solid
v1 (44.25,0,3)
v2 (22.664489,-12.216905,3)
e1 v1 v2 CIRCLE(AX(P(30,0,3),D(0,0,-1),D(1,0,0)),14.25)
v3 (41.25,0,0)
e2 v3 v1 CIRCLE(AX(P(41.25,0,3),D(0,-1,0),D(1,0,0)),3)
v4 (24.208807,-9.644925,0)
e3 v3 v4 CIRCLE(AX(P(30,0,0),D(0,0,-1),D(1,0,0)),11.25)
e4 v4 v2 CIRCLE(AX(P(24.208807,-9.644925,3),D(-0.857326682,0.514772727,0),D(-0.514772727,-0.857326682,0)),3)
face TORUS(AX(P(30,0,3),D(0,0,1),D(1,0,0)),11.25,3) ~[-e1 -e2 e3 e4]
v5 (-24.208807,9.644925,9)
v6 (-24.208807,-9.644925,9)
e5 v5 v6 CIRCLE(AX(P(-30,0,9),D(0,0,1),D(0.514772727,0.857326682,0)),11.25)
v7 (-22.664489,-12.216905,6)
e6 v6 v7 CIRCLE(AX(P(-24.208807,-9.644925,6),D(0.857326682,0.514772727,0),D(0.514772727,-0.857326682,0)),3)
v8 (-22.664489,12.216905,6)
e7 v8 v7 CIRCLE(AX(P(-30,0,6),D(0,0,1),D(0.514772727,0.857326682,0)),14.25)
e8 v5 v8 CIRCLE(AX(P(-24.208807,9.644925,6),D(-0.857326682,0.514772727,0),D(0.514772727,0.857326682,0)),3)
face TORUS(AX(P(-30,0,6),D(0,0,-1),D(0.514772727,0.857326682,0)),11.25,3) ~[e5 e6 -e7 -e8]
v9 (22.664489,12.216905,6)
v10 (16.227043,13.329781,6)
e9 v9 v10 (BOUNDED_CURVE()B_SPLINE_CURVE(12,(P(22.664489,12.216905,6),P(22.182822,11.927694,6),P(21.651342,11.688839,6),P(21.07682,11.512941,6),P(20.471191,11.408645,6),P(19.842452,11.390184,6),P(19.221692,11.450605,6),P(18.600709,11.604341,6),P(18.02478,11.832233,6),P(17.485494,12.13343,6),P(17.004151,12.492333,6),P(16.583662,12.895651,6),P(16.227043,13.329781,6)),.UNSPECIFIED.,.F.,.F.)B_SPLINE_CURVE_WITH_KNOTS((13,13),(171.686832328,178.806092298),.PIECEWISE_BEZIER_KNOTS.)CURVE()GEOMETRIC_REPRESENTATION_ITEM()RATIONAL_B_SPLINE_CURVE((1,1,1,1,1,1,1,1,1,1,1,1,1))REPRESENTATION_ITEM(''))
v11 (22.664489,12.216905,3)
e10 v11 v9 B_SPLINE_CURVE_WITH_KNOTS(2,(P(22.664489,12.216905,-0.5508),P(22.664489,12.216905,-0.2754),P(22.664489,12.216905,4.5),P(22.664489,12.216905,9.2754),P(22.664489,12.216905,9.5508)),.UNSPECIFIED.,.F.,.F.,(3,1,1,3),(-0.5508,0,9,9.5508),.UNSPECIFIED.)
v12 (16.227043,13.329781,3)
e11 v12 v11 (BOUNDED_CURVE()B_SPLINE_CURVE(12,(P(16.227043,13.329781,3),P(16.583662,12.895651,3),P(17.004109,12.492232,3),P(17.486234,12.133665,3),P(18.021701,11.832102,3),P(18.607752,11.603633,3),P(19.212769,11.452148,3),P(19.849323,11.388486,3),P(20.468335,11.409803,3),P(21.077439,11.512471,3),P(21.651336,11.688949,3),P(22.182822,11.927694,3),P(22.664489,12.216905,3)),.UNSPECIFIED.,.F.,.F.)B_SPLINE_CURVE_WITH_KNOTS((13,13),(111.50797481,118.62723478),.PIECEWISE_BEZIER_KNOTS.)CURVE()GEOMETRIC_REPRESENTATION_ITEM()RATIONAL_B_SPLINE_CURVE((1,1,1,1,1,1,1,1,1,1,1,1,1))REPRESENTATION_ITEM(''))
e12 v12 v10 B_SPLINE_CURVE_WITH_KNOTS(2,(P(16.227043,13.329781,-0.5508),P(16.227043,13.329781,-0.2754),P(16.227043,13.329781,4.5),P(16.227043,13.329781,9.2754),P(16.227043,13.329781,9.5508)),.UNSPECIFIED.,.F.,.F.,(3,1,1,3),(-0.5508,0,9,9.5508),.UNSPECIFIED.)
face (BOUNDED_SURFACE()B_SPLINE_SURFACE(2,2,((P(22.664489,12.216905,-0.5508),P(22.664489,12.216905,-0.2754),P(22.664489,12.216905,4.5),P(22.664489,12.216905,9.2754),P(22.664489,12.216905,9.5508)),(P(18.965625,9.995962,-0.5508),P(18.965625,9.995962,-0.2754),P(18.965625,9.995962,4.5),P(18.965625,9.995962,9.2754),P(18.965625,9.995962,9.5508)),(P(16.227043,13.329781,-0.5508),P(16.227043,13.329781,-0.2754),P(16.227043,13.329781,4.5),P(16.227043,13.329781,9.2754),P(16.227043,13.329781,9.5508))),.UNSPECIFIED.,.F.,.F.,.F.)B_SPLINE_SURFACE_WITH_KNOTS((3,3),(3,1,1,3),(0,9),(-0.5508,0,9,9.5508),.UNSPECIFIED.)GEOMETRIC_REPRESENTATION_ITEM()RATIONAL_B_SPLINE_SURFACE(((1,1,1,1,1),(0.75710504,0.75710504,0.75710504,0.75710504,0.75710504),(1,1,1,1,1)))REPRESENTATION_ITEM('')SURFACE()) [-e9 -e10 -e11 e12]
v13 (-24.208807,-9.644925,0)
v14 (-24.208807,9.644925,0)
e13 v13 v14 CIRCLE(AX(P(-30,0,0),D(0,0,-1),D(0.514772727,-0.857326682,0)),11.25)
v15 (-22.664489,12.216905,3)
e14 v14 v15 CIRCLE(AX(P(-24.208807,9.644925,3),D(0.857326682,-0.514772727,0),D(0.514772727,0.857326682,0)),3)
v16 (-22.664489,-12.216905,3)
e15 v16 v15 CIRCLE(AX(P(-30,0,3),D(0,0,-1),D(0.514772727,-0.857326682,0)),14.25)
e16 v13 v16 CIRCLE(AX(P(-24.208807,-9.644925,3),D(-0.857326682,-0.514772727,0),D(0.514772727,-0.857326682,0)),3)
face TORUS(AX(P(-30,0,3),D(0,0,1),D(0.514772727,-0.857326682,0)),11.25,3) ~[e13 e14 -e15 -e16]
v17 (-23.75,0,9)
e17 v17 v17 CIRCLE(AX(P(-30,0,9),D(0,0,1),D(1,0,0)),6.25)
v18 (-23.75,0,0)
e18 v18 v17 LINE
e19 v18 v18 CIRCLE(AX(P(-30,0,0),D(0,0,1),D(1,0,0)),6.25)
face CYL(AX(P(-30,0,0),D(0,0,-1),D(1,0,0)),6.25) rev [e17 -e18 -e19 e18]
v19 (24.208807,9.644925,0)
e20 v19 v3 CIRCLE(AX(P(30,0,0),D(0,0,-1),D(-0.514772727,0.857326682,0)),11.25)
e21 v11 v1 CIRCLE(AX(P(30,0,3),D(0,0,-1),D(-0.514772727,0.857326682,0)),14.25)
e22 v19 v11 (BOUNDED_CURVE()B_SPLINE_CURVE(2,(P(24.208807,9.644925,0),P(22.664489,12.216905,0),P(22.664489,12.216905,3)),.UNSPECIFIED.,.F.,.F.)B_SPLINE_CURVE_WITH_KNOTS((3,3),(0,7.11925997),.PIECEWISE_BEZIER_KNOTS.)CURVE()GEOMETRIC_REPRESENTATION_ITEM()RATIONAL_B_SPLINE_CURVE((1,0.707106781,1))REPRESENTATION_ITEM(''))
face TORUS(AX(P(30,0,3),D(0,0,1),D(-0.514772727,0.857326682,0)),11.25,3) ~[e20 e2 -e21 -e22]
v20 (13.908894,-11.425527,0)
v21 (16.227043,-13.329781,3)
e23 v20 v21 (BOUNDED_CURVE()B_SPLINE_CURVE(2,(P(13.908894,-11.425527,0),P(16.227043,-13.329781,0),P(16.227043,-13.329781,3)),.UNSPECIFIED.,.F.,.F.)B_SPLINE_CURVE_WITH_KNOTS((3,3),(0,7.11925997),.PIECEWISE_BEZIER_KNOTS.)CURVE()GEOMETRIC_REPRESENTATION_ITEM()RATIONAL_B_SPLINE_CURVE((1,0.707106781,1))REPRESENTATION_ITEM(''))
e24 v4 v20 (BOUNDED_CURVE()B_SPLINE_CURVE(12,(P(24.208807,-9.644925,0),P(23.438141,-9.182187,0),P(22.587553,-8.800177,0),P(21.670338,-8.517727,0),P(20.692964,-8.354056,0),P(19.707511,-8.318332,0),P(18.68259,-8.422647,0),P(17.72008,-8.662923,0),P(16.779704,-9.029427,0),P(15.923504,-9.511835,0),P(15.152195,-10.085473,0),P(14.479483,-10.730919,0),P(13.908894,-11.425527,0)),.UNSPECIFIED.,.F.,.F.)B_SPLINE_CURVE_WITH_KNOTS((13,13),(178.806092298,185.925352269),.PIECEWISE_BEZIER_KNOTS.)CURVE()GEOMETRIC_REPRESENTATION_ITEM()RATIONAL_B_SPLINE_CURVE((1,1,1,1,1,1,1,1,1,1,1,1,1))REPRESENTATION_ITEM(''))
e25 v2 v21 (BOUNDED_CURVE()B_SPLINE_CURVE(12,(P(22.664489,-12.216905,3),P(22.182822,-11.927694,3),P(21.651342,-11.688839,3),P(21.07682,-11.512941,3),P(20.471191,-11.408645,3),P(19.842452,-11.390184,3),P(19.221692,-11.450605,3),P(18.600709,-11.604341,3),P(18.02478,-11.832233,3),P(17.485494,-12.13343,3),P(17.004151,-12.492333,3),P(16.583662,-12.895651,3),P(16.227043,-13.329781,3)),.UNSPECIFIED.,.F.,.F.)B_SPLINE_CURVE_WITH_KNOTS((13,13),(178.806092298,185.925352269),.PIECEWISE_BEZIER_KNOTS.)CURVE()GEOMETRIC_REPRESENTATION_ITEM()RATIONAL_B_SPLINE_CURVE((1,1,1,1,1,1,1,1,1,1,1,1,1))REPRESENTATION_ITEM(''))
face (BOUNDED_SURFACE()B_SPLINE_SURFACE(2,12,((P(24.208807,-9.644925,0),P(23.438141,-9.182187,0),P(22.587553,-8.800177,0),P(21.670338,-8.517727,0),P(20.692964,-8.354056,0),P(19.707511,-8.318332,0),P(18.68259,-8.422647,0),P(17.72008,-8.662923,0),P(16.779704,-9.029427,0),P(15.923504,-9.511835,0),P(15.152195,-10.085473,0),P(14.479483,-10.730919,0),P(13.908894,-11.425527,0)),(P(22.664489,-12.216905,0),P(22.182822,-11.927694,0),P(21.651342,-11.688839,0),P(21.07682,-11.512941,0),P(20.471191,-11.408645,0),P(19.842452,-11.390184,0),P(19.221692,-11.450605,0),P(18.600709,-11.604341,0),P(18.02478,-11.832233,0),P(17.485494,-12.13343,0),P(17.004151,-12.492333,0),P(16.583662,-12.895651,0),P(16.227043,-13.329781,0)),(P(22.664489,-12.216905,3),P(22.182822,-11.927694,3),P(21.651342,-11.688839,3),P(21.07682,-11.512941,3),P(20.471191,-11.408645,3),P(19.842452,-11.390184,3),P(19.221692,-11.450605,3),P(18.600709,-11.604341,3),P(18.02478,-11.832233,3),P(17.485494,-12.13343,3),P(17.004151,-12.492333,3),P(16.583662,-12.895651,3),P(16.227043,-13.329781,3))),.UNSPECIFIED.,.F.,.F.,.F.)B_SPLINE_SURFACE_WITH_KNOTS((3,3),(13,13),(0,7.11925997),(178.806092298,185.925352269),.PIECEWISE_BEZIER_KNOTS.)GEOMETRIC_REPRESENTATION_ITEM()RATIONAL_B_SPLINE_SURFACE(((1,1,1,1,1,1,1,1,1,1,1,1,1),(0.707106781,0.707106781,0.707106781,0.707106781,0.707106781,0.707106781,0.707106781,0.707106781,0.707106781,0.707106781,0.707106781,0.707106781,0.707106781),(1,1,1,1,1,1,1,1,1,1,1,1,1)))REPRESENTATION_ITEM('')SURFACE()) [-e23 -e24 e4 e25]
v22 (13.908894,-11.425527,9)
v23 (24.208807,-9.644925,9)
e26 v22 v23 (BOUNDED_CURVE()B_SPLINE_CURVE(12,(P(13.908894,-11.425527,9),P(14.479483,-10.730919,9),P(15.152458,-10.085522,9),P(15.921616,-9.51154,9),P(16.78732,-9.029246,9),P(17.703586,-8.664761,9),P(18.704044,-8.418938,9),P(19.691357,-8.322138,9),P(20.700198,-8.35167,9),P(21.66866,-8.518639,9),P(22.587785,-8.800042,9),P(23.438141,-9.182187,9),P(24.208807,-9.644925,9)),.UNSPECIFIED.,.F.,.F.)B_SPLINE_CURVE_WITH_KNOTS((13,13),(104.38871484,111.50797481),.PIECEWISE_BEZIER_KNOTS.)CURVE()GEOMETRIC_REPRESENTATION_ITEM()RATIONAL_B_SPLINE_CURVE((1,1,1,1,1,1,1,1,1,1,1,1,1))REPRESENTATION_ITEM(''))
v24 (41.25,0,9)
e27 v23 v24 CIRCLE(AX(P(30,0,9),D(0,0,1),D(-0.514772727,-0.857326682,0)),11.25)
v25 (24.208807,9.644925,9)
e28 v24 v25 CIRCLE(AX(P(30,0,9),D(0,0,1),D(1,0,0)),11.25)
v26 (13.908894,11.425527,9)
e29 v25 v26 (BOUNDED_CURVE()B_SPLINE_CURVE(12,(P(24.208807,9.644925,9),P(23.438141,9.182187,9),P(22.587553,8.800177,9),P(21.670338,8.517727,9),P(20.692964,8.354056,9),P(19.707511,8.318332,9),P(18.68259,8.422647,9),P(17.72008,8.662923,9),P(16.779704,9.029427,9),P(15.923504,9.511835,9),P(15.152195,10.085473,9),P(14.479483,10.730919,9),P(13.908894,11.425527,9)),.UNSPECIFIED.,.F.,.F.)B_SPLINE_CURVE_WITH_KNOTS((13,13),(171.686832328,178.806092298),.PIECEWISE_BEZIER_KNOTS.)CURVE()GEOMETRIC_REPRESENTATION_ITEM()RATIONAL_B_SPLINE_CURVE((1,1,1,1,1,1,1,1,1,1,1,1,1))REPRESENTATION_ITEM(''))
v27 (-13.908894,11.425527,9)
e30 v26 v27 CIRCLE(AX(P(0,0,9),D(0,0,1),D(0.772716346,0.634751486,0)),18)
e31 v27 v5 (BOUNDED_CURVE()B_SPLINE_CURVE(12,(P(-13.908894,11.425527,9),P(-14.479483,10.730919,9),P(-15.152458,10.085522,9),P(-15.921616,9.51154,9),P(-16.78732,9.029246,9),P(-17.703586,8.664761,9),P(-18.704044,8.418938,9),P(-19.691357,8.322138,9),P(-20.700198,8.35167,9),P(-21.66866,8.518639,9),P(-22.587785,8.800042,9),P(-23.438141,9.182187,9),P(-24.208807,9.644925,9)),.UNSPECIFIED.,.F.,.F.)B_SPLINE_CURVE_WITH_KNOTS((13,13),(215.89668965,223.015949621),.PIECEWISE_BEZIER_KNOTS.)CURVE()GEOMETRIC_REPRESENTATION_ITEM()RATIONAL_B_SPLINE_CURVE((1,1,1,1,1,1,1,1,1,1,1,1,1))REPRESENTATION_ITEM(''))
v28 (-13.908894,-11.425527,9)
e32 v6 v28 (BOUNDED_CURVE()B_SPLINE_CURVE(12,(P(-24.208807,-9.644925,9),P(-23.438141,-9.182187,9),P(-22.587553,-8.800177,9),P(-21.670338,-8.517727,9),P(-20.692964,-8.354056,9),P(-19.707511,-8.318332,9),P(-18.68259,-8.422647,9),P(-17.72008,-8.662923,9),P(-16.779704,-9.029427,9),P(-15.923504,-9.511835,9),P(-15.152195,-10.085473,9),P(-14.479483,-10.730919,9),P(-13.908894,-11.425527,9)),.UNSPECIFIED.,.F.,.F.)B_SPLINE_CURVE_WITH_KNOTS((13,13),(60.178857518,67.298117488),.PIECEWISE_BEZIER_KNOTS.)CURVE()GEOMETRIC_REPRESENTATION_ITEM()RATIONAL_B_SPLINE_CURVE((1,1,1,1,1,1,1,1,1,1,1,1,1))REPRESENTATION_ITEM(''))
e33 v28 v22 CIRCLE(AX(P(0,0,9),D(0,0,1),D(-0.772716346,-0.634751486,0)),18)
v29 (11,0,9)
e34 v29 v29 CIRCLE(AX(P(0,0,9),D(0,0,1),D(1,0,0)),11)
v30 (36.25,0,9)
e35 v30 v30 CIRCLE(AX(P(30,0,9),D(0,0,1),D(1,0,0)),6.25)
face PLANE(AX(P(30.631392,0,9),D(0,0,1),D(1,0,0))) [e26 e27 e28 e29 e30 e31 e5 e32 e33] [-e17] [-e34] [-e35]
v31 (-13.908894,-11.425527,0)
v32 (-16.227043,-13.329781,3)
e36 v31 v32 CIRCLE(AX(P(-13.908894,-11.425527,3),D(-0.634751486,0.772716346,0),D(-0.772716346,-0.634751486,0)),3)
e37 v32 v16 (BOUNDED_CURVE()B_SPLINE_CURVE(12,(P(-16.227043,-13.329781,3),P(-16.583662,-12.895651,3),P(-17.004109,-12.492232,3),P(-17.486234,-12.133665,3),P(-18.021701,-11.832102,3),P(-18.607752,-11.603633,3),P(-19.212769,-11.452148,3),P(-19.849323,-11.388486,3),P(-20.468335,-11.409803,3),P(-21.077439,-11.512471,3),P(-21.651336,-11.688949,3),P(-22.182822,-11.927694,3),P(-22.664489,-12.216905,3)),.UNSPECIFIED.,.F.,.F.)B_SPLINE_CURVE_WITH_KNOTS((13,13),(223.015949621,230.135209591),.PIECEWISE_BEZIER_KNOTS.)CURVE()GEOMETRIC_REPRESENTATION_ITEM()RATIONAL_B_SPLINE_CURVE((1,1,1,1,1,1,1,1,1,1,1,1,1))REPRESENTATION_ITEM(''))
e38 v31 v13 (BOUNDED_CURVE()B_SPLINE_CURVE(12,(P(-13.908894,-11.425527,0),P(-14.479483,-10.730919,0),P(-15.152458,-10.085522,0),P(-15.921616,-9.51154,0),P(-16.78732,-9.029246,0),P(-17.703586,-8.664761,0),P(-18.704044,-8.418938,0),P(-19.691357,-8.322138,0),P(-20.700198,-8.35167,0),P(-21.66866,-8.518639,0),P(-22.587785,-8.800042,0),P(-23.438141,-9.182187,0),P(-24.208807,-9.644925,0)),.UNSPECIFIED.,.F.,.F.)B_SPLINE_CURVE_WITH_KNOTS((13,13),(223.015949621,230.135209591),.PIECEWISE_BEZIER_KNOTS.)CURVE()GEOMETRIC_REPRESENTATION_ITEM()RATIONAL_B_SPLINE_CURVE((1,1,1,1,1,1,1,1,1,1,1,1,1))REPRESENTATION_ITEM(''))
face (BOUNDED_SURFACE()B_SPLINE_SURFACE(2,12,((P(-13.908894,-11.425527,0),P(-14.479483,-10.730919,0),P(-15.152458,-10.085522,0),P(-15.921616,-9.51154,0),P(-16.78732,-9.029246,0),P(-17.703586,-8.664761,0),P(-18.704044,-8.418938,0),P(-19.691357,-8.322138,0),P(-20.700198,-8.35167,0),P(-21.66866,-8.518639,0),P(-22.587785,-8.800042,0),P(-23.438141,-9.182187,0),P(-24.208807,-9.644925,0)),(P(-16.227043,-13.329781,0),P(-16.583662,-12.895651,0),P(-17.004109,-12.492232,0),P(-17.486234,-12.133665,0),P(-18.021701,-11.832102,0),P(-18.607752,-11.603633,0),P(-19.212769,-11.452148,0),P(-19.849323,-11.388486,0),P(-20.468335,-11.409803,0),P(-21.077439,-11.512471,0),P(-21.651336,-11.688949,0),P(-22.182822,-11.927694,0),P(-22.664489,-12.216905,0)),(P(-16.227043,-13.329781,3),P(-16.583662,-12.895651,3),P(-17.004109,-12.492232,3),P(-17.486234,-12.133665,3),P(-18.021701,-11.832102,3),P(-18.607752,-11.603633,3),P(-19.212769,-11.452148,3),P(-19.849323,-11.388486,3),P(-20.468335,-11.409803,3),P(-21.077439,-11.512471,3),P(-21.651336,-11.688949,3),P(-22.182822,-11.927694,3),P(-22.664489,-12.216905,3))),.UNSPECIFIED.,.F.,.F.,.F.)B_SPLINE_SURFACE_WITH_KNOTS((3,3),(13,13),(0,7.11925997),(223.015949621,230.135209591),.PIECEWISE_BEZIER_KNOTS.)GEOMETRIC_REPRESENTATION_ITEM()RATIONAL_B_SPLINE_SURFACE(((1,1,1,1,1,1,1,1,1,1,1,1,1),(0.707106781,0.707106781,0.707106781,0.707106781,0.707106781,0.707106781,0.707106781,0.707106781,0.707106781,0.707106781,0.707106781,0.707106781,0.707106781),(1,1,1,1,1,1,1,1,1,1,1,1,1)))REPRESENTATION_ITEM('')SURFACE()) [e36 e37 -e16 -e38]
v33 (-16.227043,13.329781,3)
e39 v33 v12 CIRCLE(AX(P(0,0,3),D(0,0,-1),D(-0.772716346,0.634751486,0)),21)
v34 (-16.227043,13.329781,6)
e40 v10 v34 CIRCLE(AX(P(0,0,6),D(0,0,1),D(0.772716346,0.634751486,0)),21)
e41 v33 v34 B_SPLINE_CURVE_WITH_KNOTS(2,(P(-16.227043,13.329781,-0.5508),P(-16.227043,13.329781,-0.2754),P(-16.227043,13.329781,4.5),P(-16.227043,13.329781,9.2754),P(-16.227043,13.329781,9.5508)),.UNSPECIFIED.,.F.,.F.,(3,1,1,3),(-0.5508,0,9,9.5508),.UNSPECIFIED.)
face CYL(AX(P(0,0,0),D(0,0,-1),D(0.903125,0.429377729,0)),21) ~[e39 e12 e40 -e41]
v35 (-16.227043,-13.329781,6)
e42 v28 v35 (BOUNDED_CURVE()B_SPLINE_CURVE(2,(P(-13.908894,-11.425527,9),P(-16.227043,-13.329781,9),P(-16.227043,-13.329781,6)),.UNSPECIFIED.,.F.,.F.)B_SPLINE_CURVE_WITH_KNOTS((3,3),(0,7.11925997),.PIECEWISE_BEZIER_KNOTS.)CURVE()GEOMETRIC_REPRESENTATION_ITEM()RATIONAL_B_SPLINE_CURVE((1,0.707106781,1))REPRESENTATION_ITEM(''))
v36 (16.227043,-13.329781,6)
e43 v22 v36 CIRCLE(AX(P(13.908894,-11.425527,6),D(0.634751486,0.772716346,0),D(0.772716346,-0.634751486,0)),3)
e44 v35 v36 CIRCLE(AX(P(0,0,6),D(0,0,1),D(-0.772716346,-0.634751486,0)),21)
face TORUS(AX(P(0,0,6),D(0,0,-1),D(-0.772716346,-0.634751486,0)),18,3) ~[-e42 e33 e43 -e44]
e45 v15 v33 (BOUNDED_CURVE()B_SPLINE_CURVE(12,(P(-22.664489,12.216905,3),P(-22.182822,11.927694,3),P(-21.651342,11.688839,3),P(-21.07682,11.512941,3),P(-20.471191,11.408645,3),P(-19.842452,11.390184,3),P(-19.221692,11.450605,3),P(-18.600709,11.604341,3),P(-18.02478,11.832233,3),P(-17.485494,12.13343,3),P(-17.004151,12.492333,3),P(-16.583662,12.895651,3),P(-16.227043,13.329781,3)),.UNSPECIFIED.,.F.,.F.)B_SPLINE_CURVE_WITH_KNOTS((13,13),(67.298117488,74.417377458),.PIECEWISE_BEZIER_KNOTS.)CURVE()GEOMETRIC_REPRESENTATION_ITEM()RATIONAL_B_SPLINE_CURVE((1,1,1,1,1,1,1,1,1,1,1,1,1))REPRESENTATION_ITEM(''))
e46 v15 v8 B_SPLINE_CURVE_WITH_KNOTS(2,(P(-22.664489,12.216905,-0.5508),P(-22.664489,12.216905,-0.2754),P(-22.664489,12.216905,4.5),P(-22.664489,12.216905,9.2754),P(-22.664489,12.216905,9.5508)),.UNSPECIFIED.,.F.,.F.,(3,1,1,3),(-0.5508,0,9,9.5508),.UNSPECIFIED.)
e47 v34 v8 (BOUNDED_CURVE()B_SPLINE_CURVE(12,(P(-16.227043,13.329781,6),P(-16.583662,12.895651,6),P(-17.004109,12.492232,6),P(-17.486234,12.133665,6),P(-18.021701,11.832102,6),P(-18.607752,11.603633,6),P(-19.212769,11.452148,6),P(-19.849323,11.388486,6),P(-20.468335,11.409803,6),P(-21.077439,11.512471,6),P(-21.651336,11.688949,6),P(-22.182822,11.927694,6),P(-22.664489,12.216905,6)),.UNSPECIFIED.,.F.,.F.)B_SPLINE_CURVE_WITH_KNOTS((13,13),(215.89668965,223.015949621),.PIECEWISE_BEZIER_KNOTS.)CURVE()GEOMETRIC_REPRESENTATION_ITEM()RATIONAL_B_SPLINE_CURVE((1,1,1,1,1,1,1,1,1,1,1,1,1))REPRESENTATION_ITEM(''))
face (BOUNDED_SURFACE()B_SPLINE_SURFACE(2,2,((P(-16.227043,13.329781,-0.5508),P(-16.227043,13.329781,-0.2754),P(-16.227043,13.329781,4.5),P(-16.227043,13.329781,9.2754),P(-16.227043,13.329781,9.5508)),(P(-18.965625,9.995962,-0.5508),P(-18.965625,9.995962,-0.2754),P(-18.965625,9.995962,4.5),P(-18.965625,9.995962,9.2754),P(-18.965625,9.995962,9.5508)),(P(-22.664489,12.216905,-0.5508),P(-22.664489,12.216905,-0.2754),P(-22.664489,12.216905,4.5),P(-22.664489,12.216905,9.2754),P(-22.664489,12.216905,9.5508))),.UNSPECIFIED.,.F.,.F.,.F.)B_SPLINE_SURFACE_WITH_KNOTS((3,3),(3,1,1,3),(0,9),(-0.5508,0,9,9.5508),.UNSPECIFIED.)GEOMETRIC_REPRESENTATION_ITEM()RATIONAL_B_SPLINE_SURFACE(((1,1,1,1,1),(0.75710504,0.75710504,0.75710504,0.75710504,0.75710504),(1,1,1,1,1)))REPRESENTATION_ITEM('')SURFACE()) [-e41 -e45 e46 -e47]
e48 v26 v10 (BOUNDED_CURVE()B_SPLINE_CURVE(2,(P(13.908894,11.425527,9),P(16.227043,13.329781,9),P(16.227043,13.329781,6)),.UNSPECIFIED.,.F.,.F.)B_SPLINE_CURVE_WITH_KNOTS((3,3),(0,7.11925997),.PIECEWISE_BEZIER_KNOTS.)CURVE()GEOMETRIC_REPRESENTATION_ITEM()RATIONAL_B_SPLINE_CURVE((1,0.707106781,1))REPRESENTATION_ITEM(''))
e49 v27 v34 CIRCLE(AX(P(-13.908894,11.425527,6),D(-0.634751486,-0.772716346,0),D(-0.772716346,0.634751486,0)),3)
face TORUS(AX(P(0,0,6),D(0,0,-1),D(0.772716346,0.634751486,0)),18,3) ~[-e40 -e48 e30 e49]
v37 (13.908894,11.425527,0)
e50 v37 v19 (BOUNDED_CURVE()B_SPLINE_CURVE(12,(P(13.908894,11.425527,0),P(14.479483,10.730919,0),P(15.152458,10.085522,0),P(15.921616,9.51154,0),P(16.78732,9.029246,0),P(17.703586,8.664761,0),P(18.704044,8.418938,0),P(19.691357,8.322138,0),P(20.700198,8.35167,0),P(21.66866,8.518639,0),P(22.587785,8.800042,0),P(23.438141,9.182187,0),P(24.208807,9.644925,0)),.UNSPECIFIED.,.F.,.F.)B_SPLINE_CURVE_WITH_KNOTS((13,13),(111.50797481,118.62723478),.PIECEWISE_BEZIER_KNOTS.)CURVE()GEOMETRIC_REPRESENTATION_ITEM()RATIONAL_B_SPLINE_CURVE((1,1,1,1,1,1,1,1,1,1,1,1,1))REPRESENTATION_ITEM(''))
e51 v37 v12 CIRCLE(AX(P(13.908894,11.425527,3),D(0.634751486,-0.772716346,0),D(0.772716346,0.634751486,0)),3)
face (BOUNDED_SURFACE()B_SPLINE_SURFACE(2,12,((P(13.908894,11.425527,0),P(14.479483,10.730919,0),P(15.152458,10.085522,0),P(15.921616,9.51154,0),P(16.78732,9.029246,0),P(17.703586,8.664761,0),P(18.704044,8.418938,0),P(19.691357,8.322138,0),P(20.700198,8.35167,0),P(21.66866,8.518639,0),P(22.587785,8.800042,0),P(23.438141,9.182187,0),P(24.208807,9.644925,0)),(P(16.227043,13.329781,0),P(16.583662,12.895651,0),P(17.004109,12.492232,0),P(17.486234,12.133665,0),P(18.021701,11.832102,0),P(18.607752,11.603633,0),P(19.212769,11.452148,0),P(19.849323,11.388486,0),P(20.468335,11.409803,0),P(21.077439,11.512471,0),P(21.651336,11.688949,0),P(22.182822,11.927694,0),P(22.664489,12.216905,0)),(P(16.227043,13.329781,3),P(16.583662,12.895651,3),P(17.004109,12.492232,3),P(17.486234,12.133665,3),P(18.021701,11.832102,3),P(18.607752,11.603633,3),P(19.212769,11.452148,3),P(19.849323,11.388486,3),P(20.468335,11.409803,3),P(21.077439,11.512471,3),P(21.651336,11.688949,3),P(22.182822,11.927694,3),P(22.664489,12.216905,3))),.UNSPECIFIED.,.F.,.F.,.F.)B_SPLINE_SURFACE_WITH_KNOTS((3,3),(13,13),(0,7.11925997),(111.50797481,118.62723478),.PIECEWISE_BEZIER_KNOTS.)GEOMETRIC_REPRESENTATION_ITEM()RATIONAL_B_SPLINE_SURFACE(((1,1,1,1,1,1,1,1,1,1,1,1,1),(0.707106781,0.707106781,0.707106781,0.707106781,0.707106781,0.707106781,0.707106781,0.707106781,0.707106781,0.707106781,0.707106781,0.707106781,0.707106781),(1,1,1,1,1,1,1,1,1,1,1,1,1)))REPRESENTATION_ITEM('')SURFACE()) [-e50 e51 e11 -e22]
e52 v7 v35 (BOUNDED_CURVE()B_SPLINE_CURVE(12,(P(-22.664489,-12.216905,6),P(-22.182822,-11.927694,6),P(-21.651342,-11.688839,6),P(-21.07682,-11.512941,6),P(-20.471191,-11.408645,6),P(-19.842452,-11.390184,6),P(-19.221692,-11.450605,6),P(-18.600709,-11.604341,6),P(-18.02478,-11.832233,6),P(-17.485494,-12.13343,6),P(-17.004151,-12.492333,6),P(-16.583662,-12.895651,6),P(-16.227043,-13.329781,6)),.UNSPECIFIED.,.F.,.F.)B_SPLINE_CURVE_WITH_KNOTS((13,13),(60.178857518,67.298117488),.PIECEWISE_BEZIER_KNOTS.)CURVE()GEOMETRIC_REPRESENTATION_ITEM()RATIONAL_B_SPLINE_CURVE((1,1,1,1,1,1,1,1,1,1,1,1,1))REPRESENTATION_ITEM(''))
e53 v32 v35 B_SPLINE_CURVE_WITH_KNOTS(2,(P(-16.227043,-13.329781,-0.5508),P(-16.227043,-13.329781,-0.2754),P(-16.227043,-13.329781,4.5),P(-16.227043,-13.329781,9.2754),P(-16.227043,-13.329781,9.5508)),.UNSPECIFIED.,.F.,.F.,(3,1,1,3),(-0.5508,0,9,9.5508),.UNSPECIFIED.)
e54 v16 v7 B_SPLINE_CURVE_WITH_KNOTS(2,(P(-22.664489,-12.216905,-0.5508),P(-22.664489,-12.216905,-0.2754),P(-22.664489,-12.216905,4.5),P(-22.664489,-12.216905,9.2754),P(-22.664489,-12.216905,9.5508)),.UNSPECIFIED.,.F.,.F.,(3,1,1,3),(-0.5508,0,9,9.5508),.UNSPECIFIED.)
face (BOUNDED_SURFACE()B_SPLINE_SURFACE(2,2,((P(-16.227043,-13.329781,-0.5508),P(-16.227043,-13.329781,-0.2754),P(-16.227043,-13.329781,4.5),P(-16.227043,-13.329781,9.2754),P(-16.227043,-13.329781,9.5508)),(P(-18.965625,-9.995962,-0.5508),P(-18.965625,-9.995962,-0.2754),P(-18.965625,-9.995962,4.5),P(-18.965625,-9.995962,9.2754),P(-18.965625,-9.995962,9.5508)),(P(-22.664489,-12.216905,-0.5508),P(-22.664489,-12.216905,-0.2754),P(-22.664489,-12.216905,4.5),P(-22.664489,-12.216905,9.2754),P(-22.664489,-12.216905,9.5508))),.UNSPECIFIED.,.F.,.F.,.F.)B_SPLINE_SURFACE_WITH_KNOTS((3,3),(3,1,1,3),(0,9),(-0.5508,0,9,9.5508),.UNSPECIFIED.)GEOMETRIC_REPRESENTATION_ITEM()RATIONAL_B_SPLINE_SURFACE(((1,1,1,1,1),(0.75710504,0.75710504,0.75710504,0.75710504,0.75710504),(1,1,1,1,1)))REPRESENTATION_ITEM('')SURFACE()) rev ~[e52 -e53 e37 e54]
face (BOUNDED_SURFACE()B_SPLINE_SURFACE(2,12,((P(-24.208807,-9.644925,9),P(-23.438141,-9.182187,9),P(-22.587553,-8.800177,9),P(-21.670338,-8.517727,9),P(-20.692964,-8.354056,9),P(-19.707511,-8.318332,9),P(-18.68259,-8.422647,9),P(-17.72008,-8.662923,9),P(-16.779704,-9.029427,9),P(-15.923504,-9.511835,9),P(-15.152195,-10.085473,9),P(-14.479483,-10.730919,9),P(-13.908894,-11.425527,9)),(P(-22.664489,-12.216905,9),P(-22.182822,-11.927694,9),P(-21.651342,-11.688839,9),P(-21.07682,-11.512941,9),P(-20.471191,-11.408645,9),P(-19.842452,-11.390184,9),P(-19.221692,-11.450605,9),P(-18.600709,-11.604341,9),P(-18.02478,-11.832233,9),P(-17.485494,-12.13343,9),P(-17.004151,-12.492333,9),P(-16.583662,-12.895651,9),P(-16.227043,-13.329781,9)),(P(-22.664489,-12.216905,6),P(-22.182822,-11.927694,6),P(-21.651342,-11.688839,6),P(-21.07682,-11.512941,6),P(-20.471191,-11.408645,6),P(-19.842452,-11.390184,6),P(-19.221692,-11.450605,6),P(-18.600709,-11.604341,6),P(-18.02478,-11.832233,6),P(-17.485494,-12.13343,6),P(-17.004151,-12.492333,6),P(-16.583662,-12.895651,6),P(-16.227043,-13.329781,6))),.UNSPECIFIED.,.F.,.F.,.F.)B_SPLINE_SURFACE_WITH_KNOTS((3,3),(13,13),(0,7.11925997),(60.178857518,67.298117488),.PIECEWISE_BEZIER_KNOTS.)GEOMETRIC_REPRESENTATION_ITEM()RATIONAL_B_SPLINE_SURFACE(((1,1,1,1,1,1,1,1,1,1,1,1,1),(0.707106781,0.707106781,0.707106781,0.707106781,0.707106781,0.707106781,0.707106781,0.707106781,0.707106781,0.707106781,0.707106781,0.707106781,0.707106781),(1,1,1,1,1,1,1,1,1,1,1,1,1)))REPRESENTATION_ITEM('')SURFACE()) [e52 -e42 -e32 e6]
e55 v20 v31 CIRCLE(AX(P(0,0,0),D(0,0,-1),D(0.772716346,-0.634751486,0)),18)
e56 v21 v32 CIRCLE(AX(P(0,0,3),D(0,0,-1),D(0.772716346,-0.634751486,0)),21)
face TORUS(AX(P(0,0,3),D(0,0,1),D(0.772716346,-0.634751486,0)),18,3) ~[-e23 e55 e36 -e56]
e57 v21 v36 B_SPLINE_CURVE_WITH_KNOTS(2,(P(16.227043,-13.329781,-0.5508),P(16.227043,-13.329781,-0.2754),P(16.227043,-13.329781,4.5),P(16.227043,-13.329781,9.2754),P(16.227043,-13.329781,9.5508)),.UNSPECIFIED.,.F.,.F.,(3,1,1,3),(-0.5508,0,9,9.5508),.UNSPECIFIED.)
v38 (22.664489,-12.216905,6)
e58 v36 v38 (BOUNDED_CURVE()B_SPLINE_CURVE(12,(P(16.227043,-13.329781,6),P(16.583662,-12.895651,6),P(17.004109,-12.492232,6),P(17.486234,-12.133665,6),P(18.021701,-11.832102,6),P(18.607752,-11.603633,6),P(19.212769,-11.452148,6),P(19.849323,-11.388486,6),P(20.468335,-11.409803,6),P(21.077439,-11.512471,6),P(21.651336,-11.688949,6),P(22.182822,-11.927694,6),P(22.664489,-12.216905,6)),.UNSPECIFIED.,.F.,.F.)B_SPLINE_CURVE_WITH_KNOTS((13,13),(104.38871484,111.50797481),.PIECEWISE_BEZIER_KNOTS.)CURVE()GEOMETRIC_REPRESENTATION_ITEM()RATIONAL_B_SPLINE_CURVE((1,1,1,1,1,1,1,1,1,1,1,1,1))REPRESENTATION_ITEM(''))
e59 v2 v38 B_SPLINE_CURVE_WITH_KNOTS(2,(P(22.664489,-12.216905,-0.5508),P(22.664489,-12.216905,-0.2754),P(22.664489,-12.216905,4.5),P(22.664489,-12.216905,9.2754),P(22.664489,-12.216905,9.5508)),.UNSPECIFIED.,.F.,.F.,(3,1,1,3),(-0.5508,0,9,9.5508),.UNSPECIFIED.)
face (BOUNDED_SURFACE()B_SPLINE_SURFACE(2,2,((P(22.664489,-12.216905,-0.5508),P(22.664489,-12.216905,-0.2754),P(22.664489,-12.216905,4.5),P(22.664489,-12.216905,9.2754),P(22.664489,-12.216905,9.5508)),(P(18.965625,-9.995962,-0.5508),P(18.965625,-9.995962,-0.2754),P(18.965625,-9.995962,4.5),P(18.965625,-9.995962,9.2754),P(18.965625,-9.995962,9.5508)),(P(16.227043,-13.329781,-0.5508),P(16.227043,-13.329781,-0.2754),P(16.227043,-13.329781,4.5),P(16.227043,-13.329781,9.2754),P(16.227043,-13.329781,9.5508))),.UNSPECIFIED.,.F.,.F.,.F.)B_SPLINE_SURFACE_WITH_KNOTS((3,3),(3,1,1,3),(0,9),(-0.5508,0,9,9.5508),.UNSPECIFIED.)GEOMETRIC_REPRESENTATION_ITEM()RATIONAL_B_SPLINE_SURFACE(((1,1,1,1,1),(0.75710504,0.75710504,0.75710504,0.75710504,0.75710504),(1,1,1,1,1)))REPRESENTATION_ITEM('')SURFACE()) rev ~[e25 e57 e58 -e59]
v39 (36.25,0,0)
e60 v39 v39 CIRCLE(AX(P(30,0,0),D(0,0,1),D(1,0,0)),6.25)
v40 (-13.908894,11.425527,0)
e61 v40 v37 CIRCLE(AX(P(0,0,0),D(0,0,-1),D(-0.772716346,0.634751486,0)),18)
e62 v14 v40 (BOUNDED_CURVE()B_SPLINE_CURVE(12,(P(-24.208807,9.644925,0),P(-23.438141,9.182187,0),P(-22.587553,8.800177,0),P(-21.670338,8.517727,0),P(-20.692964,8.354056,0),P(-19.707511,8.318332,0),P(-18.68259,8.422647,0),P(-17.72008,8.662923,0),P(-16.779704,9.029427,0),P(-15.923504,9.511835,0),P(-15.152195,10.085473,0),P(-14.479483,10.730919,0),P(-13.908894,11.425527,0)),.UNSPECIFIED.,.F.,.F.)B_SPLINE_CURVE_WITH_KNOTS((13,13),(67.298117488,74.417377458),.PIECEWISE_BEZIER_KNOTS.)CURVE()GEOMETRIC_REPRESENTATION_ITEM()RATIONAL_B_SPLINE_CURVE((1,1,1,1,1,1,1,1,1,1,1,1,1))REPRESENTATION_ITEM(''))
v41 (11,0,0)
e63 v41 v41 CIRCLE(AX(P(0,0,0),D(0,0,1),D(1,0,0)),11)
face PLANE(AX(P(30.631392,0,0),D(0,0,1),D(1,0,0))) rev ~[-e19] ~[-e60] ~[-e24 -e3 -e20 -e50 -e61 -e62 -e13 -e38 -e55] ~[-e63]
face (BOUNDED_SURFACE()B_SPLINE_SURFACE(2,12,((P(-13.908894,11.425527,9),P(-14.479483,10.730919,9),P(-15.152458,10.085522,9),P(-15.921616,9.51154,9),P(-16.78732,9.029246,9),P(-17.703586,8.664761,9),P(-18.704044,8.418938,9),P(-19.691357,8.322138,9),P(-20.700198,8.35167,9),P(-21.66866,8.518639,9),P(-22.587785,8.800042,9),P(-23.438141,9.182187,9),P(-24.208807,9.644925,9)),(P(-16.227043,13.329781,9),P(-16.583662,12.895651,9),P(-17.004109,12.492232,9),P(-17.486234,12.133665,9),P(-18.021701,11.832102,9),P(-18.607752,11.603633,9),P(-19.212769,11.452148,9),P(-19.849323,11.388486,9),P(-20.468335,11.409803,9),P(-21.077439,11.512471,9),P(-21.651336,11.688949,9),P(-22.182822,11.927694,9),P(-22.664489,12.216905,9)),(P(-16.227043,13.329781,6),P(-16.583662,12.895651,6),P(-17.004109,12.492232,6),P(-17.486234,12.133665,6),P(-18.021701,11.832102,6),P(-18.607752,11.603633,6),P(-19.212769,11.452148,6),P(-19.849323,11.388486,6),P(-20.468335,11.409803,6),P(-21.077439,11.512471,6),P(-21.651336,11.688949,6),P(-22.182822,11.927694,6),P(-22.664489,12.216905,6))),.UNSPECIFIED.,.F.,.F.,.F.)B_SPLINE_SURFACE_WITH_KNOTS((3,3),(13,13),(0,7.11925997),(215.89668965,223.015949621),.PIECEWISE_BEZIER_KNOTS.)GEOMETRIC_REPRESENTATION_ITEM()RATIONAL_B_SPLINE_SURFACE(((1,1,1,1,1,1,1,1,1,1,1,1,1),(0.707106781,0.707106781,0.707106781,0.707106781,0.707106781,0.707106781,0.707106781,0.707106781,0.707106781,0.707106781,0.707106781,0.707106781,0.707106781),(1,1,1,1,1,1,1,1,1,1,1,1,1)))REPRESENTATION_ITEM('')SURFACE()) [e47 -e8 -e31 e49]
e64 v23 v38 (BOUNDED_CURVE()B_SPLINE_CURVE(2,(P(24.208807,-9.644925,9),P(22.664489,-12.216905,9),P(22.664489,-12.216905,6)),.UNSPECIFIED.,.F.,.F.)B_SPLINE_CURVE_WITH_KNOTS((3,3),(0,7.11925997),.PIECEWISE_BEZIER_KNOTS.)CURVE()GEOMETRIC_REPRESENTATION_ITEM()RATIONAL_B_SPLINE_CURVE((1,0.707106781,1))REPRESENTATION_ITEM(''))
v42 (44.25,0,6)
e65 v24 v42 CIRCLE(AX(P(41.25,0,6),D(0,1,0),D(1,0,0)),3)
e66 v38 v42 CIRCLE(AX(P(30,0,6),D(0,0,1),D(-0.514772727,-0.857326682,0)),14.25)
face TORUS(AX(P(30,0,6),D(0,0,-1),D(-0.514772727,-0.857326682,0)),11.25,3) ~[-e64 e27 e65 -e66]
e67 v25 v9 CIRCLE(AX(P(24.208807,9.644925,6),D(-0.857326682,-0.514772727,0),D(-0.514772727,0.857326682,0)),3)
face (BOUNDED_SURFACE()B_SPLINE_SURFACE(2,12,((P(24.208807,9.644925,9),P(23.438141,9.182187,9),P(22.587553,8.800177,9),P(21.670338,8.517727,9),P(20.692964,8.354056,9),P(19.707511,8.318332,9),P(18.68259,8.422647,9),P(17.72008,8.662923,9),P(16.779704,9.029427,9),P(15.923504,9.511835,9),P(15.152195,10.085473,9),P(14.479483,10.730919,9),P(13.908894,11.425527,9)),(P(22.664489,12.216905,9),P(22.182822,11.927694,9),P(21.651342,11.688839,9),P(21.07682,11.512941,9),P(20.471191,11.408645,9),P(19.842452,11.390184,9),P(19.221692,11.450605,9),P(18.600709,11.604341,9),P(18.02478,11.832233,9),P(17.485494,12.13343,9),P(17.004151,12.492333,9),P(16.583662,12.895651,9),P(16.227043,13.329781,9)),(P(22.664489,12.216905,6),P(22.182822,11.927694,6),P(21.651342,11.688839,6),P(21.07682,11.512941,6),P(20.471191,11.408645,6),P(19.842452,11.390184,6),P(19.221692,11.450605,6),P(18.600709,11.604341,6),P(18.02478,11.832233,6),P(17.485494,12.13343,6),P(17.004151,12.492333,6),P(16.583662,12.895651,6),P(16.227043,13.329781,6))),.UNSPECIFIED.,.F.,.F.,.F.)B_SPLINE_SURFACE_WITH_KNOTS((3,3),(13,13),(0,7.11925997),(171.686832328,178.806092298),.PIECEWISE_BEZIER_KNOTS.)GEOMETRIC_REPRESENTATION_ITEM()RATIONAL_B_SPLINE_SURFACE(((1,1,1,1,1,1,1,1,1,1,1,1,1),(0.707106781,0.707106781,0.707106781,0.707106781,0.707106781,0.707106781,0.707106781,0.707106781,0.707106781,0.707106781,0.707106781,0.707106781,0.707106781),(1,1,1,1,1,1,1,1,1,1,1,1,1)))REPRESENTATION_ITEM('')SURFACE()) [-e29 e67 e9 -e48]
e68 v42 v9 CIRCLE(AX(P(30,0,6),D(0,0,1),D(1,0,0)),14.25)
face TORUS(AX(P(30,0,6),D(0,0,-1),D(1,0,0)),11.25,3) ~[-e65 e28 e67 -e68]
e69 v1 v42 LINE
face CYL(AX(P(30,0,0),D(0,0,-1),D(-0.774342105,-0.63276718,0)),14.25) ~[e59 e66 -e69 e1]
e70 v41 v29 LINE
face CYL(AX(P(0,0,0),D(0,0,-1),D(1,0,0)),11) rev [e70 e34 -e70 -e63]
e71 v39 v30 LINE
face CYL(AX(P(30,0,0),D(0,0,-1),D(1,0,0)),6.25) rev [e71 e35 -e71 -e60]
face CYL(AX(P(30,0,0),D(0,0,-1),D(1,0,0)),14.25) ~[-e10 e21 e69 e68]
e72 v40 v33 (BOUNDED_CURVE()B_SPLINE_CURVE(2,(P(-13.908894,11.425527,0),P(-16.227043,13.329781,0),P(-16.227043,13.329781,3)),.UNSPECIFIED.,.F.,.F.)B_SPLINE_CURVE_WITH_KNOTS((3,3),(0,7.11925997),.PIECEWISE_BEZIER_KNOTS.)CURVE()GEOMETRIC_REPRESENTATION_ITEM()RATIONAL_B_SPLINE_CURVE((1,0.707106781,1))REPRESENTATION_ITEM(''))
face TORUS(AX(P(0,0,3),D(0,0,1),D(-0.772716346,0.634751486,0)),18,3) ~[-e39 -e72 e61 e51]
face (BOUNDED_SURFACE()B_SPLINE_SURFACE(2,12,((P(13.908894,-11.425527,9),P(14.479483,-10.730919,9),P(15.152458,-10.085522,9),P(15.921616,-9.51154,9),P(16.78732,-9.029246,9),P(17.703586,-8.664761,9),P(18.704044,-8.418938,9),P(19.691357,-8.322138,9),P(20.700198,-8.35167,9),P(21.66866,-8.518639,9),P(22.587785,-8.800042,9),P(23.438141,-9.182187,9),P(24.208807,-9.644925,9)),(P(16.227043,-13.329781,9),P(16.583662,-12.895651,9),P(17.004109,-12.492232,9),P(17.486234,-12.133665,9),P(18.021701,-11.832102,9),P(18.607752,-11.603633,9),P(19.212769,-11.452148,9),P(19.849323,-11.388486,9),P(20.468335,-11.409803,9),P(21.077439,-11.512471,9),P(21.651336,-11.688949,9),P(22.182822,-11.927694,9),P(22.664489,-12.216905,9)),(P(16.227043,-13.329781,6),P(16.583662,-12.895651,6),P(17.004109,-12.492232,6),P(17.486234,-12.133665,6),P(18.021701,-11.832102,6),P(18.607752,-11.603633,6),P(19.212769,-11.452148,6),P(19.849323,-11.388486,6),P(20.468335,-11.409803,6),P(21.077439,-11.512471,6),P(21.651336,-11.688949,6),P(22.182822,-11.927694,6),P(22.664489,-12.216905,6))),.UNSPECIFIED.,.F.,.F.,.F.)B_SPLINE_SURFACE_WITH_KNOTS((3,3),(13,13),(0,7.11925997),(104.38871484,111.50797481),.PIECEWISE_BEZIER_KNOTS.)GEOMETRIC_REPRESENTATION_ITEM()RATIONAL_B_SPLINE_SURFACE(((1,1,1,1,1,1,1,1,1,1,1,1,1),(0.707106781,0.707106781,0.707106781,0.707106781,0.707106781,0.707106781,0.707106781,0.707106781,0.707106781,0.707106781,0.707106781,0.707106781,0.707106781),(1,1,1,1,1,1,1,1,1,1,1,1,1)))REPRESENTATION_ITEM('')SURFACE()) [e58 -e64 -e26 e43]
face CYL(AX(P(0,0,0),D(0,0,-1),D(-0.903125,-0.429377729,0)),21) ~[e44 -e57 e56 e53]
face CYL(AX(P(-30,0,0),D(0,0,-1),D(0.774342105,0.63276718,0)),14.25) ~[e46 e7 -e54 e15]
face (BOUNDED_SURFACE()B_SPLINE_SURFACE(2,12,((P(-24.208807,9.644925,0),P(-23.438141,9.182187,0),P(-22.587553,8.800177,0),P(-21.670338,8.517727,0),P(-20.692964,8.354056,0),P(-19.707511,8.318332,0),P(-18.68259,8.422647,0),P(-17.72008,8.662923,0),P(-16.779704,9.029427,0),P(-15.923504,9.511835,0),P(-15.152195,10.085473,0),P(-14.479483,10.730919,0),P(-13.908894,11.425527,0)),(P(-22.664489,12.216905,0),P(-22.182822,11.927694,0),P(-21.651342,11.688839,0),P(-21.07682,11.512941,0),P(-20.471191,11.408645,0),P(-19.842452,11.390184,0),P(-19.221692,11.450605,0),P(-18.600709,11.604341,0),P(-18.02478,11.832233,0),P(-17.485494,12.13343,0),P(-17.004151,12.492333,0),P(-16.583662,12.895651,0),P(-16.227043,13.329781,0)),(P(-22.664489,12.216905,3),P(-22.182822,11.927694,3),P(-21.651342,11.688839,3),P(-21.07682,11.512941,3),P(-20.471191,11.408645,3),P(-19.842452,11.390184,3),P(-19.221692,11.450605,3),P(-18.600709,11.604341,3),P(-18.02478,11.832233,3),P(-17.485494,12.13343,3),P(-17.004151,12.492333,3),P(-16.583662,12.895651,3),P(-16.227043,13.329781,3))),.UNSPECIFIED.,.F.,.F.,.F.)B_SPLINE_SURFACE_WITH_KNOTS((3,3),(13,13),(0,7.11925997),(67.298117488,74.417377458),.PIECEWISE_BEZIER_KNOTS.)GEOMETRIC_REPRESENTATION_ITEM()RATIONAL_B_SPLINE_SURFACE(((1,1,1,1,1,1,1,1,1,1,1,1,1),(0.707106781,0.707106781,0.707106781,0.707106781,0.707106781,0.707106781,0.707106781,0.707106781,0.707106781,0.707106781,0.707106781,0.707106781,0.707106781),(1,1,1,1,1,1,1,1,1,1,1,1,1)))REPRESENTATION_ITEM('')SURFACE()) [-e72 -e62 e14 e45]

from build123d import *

# Parameters (mm, degrees)
F0_R     = 6.25
F0_R_2   = 11
F1_DEPTH = 9
F2_R     = 5
F3_R     = 3
F4_R     = 3


with BuildPart() as f1:
    # F0 (on Top) → F1 (new body)
    with BuildSketch(Plane.XY):
        with BuildLine():
            ThreePointArc((18.965625, 9.0169323142), (20.4850936659, 4.6217894262), (21, 0))
            ThreePointArc((21, 0), (20.4850936659, -4.6217894262), (18.965625, -9.0169323142))
            ThreePointArc((18.965625, -9.0169323142), (34.7865779138, -13.4220405258), (44.25, 0))
            ThreePointArc((44.25, 0), (34.7865779138, 13.4220405258), (18.965625, 9.0169323142))
        make_face()
        with Locations((30, 0)):
            Circle(F0_R, mode=Mode.SUBTRACT)
        with BuildLine():
            ThreePointArc((-15.75, 0), (-16.5779594742, 4.7865779138), (-18.965625, 9.0169323142))
            ThreePointArc((-18.965625, 9.0169323142), (-21, 0), (-18.965625, -9.0169323142))
            ThreePointArc((-18.965625, -9.0169323142), (-16.5779594742, -4.7865779138), (-15.75, 0))
        make_face()
        with BuildLine():
            ThreePointArc((18.965625, -9.0169323142), (20.4850936659, -4.6217894262), (21, 0))
            ThreePointArc((21, 0), (20.4850936659, 4.6217894262), (18.965625, 9.0169323142))
            ThreePointArc((18.965625, 9.0169323142), (15.75, 0), (18.965625, -9.0169323142))
        make_face()
        with BuildLine():
            ThreePointArc((18.965625, -9.0169323142), (15.75, 0), (18.965625, 9.0169323142))
            ThreePointArc((18.965625, 9.0169323142), (0, 21), (-18.965625, 9.0169323142))
            ThreePointArc((-18.965625, 9.0169323142), (-16.5779594742, 4.7865779138), (-15.75, 0))
            ThreePointArc((-15.75, 0), (-16.5779594742, -4.7865779138), (-18.965625, -9.0169323142))
            ThreePointArc((-18.965625, -9.0169323142), (0, -21), (18.965625, -9.0169323142))
        make_face()
        Circle(F0_R_2, mode=Mode.SUBTRACT)
        with BuildLine():
            ThreePointArc((-18.965625, -9.0169323142), (-21, 0), (-18.965625, 9.0169323142))
            ThreePointArc((-18.965625, 9.0169323142), (-44.25, 0), (-18.965625, -9.0169323142))
        make_face()
        with Locations((-30, 0)):
            Circle(F0_R, mode=Mode.SUBTRACT)
    extrude(amount=F1_DEPTH)

    # F2
    f2_edges = [f1.edges().sort_by_distance(p)[0] for p in [
        (-18.965625, 9.016932, 4.5),
        (18.965625, 9.016932, 4.5),
        (-18.965625, -9.016932, 4.5),
        (18.965625, -9.016932, 4.5),
    ]]
    fillet(f2_edges, radius=F2_R)

    # F3
    f3_edges = [f1.edges().sort_by_distance(p)[0] for p in [
        (-44.25, 0, 9),
        (-19.238882, 11.576619, 9),
        (0, 21, 9),
        (19.238882, 11.576619, 9),
        (44.25, 0, 9),
        (19.238882, -11.576619, 9),
        (0, -21, 9),
        (-19.238882, -11.576619, 9),
    ]]
    fillet(f3_edges, radius=F3_R)

    # F4
    f4_edges = [f1.edges().sort_by_distance(p)[0] for p in [
        (-19.238882, -11.576619, 0),
        (-44.25, 0, 0),
        (-19.238882, 11.576619, 0),
        (0, 21, 0),
        (19.238882, 11.576619, 0),
        (44.25, 0, 0),
        (0, -21, 0),
        (19.238882, -11.576619, 0),
    ]]
    fillet(f4_edges, radius=F4_R)


solid = f1.part
